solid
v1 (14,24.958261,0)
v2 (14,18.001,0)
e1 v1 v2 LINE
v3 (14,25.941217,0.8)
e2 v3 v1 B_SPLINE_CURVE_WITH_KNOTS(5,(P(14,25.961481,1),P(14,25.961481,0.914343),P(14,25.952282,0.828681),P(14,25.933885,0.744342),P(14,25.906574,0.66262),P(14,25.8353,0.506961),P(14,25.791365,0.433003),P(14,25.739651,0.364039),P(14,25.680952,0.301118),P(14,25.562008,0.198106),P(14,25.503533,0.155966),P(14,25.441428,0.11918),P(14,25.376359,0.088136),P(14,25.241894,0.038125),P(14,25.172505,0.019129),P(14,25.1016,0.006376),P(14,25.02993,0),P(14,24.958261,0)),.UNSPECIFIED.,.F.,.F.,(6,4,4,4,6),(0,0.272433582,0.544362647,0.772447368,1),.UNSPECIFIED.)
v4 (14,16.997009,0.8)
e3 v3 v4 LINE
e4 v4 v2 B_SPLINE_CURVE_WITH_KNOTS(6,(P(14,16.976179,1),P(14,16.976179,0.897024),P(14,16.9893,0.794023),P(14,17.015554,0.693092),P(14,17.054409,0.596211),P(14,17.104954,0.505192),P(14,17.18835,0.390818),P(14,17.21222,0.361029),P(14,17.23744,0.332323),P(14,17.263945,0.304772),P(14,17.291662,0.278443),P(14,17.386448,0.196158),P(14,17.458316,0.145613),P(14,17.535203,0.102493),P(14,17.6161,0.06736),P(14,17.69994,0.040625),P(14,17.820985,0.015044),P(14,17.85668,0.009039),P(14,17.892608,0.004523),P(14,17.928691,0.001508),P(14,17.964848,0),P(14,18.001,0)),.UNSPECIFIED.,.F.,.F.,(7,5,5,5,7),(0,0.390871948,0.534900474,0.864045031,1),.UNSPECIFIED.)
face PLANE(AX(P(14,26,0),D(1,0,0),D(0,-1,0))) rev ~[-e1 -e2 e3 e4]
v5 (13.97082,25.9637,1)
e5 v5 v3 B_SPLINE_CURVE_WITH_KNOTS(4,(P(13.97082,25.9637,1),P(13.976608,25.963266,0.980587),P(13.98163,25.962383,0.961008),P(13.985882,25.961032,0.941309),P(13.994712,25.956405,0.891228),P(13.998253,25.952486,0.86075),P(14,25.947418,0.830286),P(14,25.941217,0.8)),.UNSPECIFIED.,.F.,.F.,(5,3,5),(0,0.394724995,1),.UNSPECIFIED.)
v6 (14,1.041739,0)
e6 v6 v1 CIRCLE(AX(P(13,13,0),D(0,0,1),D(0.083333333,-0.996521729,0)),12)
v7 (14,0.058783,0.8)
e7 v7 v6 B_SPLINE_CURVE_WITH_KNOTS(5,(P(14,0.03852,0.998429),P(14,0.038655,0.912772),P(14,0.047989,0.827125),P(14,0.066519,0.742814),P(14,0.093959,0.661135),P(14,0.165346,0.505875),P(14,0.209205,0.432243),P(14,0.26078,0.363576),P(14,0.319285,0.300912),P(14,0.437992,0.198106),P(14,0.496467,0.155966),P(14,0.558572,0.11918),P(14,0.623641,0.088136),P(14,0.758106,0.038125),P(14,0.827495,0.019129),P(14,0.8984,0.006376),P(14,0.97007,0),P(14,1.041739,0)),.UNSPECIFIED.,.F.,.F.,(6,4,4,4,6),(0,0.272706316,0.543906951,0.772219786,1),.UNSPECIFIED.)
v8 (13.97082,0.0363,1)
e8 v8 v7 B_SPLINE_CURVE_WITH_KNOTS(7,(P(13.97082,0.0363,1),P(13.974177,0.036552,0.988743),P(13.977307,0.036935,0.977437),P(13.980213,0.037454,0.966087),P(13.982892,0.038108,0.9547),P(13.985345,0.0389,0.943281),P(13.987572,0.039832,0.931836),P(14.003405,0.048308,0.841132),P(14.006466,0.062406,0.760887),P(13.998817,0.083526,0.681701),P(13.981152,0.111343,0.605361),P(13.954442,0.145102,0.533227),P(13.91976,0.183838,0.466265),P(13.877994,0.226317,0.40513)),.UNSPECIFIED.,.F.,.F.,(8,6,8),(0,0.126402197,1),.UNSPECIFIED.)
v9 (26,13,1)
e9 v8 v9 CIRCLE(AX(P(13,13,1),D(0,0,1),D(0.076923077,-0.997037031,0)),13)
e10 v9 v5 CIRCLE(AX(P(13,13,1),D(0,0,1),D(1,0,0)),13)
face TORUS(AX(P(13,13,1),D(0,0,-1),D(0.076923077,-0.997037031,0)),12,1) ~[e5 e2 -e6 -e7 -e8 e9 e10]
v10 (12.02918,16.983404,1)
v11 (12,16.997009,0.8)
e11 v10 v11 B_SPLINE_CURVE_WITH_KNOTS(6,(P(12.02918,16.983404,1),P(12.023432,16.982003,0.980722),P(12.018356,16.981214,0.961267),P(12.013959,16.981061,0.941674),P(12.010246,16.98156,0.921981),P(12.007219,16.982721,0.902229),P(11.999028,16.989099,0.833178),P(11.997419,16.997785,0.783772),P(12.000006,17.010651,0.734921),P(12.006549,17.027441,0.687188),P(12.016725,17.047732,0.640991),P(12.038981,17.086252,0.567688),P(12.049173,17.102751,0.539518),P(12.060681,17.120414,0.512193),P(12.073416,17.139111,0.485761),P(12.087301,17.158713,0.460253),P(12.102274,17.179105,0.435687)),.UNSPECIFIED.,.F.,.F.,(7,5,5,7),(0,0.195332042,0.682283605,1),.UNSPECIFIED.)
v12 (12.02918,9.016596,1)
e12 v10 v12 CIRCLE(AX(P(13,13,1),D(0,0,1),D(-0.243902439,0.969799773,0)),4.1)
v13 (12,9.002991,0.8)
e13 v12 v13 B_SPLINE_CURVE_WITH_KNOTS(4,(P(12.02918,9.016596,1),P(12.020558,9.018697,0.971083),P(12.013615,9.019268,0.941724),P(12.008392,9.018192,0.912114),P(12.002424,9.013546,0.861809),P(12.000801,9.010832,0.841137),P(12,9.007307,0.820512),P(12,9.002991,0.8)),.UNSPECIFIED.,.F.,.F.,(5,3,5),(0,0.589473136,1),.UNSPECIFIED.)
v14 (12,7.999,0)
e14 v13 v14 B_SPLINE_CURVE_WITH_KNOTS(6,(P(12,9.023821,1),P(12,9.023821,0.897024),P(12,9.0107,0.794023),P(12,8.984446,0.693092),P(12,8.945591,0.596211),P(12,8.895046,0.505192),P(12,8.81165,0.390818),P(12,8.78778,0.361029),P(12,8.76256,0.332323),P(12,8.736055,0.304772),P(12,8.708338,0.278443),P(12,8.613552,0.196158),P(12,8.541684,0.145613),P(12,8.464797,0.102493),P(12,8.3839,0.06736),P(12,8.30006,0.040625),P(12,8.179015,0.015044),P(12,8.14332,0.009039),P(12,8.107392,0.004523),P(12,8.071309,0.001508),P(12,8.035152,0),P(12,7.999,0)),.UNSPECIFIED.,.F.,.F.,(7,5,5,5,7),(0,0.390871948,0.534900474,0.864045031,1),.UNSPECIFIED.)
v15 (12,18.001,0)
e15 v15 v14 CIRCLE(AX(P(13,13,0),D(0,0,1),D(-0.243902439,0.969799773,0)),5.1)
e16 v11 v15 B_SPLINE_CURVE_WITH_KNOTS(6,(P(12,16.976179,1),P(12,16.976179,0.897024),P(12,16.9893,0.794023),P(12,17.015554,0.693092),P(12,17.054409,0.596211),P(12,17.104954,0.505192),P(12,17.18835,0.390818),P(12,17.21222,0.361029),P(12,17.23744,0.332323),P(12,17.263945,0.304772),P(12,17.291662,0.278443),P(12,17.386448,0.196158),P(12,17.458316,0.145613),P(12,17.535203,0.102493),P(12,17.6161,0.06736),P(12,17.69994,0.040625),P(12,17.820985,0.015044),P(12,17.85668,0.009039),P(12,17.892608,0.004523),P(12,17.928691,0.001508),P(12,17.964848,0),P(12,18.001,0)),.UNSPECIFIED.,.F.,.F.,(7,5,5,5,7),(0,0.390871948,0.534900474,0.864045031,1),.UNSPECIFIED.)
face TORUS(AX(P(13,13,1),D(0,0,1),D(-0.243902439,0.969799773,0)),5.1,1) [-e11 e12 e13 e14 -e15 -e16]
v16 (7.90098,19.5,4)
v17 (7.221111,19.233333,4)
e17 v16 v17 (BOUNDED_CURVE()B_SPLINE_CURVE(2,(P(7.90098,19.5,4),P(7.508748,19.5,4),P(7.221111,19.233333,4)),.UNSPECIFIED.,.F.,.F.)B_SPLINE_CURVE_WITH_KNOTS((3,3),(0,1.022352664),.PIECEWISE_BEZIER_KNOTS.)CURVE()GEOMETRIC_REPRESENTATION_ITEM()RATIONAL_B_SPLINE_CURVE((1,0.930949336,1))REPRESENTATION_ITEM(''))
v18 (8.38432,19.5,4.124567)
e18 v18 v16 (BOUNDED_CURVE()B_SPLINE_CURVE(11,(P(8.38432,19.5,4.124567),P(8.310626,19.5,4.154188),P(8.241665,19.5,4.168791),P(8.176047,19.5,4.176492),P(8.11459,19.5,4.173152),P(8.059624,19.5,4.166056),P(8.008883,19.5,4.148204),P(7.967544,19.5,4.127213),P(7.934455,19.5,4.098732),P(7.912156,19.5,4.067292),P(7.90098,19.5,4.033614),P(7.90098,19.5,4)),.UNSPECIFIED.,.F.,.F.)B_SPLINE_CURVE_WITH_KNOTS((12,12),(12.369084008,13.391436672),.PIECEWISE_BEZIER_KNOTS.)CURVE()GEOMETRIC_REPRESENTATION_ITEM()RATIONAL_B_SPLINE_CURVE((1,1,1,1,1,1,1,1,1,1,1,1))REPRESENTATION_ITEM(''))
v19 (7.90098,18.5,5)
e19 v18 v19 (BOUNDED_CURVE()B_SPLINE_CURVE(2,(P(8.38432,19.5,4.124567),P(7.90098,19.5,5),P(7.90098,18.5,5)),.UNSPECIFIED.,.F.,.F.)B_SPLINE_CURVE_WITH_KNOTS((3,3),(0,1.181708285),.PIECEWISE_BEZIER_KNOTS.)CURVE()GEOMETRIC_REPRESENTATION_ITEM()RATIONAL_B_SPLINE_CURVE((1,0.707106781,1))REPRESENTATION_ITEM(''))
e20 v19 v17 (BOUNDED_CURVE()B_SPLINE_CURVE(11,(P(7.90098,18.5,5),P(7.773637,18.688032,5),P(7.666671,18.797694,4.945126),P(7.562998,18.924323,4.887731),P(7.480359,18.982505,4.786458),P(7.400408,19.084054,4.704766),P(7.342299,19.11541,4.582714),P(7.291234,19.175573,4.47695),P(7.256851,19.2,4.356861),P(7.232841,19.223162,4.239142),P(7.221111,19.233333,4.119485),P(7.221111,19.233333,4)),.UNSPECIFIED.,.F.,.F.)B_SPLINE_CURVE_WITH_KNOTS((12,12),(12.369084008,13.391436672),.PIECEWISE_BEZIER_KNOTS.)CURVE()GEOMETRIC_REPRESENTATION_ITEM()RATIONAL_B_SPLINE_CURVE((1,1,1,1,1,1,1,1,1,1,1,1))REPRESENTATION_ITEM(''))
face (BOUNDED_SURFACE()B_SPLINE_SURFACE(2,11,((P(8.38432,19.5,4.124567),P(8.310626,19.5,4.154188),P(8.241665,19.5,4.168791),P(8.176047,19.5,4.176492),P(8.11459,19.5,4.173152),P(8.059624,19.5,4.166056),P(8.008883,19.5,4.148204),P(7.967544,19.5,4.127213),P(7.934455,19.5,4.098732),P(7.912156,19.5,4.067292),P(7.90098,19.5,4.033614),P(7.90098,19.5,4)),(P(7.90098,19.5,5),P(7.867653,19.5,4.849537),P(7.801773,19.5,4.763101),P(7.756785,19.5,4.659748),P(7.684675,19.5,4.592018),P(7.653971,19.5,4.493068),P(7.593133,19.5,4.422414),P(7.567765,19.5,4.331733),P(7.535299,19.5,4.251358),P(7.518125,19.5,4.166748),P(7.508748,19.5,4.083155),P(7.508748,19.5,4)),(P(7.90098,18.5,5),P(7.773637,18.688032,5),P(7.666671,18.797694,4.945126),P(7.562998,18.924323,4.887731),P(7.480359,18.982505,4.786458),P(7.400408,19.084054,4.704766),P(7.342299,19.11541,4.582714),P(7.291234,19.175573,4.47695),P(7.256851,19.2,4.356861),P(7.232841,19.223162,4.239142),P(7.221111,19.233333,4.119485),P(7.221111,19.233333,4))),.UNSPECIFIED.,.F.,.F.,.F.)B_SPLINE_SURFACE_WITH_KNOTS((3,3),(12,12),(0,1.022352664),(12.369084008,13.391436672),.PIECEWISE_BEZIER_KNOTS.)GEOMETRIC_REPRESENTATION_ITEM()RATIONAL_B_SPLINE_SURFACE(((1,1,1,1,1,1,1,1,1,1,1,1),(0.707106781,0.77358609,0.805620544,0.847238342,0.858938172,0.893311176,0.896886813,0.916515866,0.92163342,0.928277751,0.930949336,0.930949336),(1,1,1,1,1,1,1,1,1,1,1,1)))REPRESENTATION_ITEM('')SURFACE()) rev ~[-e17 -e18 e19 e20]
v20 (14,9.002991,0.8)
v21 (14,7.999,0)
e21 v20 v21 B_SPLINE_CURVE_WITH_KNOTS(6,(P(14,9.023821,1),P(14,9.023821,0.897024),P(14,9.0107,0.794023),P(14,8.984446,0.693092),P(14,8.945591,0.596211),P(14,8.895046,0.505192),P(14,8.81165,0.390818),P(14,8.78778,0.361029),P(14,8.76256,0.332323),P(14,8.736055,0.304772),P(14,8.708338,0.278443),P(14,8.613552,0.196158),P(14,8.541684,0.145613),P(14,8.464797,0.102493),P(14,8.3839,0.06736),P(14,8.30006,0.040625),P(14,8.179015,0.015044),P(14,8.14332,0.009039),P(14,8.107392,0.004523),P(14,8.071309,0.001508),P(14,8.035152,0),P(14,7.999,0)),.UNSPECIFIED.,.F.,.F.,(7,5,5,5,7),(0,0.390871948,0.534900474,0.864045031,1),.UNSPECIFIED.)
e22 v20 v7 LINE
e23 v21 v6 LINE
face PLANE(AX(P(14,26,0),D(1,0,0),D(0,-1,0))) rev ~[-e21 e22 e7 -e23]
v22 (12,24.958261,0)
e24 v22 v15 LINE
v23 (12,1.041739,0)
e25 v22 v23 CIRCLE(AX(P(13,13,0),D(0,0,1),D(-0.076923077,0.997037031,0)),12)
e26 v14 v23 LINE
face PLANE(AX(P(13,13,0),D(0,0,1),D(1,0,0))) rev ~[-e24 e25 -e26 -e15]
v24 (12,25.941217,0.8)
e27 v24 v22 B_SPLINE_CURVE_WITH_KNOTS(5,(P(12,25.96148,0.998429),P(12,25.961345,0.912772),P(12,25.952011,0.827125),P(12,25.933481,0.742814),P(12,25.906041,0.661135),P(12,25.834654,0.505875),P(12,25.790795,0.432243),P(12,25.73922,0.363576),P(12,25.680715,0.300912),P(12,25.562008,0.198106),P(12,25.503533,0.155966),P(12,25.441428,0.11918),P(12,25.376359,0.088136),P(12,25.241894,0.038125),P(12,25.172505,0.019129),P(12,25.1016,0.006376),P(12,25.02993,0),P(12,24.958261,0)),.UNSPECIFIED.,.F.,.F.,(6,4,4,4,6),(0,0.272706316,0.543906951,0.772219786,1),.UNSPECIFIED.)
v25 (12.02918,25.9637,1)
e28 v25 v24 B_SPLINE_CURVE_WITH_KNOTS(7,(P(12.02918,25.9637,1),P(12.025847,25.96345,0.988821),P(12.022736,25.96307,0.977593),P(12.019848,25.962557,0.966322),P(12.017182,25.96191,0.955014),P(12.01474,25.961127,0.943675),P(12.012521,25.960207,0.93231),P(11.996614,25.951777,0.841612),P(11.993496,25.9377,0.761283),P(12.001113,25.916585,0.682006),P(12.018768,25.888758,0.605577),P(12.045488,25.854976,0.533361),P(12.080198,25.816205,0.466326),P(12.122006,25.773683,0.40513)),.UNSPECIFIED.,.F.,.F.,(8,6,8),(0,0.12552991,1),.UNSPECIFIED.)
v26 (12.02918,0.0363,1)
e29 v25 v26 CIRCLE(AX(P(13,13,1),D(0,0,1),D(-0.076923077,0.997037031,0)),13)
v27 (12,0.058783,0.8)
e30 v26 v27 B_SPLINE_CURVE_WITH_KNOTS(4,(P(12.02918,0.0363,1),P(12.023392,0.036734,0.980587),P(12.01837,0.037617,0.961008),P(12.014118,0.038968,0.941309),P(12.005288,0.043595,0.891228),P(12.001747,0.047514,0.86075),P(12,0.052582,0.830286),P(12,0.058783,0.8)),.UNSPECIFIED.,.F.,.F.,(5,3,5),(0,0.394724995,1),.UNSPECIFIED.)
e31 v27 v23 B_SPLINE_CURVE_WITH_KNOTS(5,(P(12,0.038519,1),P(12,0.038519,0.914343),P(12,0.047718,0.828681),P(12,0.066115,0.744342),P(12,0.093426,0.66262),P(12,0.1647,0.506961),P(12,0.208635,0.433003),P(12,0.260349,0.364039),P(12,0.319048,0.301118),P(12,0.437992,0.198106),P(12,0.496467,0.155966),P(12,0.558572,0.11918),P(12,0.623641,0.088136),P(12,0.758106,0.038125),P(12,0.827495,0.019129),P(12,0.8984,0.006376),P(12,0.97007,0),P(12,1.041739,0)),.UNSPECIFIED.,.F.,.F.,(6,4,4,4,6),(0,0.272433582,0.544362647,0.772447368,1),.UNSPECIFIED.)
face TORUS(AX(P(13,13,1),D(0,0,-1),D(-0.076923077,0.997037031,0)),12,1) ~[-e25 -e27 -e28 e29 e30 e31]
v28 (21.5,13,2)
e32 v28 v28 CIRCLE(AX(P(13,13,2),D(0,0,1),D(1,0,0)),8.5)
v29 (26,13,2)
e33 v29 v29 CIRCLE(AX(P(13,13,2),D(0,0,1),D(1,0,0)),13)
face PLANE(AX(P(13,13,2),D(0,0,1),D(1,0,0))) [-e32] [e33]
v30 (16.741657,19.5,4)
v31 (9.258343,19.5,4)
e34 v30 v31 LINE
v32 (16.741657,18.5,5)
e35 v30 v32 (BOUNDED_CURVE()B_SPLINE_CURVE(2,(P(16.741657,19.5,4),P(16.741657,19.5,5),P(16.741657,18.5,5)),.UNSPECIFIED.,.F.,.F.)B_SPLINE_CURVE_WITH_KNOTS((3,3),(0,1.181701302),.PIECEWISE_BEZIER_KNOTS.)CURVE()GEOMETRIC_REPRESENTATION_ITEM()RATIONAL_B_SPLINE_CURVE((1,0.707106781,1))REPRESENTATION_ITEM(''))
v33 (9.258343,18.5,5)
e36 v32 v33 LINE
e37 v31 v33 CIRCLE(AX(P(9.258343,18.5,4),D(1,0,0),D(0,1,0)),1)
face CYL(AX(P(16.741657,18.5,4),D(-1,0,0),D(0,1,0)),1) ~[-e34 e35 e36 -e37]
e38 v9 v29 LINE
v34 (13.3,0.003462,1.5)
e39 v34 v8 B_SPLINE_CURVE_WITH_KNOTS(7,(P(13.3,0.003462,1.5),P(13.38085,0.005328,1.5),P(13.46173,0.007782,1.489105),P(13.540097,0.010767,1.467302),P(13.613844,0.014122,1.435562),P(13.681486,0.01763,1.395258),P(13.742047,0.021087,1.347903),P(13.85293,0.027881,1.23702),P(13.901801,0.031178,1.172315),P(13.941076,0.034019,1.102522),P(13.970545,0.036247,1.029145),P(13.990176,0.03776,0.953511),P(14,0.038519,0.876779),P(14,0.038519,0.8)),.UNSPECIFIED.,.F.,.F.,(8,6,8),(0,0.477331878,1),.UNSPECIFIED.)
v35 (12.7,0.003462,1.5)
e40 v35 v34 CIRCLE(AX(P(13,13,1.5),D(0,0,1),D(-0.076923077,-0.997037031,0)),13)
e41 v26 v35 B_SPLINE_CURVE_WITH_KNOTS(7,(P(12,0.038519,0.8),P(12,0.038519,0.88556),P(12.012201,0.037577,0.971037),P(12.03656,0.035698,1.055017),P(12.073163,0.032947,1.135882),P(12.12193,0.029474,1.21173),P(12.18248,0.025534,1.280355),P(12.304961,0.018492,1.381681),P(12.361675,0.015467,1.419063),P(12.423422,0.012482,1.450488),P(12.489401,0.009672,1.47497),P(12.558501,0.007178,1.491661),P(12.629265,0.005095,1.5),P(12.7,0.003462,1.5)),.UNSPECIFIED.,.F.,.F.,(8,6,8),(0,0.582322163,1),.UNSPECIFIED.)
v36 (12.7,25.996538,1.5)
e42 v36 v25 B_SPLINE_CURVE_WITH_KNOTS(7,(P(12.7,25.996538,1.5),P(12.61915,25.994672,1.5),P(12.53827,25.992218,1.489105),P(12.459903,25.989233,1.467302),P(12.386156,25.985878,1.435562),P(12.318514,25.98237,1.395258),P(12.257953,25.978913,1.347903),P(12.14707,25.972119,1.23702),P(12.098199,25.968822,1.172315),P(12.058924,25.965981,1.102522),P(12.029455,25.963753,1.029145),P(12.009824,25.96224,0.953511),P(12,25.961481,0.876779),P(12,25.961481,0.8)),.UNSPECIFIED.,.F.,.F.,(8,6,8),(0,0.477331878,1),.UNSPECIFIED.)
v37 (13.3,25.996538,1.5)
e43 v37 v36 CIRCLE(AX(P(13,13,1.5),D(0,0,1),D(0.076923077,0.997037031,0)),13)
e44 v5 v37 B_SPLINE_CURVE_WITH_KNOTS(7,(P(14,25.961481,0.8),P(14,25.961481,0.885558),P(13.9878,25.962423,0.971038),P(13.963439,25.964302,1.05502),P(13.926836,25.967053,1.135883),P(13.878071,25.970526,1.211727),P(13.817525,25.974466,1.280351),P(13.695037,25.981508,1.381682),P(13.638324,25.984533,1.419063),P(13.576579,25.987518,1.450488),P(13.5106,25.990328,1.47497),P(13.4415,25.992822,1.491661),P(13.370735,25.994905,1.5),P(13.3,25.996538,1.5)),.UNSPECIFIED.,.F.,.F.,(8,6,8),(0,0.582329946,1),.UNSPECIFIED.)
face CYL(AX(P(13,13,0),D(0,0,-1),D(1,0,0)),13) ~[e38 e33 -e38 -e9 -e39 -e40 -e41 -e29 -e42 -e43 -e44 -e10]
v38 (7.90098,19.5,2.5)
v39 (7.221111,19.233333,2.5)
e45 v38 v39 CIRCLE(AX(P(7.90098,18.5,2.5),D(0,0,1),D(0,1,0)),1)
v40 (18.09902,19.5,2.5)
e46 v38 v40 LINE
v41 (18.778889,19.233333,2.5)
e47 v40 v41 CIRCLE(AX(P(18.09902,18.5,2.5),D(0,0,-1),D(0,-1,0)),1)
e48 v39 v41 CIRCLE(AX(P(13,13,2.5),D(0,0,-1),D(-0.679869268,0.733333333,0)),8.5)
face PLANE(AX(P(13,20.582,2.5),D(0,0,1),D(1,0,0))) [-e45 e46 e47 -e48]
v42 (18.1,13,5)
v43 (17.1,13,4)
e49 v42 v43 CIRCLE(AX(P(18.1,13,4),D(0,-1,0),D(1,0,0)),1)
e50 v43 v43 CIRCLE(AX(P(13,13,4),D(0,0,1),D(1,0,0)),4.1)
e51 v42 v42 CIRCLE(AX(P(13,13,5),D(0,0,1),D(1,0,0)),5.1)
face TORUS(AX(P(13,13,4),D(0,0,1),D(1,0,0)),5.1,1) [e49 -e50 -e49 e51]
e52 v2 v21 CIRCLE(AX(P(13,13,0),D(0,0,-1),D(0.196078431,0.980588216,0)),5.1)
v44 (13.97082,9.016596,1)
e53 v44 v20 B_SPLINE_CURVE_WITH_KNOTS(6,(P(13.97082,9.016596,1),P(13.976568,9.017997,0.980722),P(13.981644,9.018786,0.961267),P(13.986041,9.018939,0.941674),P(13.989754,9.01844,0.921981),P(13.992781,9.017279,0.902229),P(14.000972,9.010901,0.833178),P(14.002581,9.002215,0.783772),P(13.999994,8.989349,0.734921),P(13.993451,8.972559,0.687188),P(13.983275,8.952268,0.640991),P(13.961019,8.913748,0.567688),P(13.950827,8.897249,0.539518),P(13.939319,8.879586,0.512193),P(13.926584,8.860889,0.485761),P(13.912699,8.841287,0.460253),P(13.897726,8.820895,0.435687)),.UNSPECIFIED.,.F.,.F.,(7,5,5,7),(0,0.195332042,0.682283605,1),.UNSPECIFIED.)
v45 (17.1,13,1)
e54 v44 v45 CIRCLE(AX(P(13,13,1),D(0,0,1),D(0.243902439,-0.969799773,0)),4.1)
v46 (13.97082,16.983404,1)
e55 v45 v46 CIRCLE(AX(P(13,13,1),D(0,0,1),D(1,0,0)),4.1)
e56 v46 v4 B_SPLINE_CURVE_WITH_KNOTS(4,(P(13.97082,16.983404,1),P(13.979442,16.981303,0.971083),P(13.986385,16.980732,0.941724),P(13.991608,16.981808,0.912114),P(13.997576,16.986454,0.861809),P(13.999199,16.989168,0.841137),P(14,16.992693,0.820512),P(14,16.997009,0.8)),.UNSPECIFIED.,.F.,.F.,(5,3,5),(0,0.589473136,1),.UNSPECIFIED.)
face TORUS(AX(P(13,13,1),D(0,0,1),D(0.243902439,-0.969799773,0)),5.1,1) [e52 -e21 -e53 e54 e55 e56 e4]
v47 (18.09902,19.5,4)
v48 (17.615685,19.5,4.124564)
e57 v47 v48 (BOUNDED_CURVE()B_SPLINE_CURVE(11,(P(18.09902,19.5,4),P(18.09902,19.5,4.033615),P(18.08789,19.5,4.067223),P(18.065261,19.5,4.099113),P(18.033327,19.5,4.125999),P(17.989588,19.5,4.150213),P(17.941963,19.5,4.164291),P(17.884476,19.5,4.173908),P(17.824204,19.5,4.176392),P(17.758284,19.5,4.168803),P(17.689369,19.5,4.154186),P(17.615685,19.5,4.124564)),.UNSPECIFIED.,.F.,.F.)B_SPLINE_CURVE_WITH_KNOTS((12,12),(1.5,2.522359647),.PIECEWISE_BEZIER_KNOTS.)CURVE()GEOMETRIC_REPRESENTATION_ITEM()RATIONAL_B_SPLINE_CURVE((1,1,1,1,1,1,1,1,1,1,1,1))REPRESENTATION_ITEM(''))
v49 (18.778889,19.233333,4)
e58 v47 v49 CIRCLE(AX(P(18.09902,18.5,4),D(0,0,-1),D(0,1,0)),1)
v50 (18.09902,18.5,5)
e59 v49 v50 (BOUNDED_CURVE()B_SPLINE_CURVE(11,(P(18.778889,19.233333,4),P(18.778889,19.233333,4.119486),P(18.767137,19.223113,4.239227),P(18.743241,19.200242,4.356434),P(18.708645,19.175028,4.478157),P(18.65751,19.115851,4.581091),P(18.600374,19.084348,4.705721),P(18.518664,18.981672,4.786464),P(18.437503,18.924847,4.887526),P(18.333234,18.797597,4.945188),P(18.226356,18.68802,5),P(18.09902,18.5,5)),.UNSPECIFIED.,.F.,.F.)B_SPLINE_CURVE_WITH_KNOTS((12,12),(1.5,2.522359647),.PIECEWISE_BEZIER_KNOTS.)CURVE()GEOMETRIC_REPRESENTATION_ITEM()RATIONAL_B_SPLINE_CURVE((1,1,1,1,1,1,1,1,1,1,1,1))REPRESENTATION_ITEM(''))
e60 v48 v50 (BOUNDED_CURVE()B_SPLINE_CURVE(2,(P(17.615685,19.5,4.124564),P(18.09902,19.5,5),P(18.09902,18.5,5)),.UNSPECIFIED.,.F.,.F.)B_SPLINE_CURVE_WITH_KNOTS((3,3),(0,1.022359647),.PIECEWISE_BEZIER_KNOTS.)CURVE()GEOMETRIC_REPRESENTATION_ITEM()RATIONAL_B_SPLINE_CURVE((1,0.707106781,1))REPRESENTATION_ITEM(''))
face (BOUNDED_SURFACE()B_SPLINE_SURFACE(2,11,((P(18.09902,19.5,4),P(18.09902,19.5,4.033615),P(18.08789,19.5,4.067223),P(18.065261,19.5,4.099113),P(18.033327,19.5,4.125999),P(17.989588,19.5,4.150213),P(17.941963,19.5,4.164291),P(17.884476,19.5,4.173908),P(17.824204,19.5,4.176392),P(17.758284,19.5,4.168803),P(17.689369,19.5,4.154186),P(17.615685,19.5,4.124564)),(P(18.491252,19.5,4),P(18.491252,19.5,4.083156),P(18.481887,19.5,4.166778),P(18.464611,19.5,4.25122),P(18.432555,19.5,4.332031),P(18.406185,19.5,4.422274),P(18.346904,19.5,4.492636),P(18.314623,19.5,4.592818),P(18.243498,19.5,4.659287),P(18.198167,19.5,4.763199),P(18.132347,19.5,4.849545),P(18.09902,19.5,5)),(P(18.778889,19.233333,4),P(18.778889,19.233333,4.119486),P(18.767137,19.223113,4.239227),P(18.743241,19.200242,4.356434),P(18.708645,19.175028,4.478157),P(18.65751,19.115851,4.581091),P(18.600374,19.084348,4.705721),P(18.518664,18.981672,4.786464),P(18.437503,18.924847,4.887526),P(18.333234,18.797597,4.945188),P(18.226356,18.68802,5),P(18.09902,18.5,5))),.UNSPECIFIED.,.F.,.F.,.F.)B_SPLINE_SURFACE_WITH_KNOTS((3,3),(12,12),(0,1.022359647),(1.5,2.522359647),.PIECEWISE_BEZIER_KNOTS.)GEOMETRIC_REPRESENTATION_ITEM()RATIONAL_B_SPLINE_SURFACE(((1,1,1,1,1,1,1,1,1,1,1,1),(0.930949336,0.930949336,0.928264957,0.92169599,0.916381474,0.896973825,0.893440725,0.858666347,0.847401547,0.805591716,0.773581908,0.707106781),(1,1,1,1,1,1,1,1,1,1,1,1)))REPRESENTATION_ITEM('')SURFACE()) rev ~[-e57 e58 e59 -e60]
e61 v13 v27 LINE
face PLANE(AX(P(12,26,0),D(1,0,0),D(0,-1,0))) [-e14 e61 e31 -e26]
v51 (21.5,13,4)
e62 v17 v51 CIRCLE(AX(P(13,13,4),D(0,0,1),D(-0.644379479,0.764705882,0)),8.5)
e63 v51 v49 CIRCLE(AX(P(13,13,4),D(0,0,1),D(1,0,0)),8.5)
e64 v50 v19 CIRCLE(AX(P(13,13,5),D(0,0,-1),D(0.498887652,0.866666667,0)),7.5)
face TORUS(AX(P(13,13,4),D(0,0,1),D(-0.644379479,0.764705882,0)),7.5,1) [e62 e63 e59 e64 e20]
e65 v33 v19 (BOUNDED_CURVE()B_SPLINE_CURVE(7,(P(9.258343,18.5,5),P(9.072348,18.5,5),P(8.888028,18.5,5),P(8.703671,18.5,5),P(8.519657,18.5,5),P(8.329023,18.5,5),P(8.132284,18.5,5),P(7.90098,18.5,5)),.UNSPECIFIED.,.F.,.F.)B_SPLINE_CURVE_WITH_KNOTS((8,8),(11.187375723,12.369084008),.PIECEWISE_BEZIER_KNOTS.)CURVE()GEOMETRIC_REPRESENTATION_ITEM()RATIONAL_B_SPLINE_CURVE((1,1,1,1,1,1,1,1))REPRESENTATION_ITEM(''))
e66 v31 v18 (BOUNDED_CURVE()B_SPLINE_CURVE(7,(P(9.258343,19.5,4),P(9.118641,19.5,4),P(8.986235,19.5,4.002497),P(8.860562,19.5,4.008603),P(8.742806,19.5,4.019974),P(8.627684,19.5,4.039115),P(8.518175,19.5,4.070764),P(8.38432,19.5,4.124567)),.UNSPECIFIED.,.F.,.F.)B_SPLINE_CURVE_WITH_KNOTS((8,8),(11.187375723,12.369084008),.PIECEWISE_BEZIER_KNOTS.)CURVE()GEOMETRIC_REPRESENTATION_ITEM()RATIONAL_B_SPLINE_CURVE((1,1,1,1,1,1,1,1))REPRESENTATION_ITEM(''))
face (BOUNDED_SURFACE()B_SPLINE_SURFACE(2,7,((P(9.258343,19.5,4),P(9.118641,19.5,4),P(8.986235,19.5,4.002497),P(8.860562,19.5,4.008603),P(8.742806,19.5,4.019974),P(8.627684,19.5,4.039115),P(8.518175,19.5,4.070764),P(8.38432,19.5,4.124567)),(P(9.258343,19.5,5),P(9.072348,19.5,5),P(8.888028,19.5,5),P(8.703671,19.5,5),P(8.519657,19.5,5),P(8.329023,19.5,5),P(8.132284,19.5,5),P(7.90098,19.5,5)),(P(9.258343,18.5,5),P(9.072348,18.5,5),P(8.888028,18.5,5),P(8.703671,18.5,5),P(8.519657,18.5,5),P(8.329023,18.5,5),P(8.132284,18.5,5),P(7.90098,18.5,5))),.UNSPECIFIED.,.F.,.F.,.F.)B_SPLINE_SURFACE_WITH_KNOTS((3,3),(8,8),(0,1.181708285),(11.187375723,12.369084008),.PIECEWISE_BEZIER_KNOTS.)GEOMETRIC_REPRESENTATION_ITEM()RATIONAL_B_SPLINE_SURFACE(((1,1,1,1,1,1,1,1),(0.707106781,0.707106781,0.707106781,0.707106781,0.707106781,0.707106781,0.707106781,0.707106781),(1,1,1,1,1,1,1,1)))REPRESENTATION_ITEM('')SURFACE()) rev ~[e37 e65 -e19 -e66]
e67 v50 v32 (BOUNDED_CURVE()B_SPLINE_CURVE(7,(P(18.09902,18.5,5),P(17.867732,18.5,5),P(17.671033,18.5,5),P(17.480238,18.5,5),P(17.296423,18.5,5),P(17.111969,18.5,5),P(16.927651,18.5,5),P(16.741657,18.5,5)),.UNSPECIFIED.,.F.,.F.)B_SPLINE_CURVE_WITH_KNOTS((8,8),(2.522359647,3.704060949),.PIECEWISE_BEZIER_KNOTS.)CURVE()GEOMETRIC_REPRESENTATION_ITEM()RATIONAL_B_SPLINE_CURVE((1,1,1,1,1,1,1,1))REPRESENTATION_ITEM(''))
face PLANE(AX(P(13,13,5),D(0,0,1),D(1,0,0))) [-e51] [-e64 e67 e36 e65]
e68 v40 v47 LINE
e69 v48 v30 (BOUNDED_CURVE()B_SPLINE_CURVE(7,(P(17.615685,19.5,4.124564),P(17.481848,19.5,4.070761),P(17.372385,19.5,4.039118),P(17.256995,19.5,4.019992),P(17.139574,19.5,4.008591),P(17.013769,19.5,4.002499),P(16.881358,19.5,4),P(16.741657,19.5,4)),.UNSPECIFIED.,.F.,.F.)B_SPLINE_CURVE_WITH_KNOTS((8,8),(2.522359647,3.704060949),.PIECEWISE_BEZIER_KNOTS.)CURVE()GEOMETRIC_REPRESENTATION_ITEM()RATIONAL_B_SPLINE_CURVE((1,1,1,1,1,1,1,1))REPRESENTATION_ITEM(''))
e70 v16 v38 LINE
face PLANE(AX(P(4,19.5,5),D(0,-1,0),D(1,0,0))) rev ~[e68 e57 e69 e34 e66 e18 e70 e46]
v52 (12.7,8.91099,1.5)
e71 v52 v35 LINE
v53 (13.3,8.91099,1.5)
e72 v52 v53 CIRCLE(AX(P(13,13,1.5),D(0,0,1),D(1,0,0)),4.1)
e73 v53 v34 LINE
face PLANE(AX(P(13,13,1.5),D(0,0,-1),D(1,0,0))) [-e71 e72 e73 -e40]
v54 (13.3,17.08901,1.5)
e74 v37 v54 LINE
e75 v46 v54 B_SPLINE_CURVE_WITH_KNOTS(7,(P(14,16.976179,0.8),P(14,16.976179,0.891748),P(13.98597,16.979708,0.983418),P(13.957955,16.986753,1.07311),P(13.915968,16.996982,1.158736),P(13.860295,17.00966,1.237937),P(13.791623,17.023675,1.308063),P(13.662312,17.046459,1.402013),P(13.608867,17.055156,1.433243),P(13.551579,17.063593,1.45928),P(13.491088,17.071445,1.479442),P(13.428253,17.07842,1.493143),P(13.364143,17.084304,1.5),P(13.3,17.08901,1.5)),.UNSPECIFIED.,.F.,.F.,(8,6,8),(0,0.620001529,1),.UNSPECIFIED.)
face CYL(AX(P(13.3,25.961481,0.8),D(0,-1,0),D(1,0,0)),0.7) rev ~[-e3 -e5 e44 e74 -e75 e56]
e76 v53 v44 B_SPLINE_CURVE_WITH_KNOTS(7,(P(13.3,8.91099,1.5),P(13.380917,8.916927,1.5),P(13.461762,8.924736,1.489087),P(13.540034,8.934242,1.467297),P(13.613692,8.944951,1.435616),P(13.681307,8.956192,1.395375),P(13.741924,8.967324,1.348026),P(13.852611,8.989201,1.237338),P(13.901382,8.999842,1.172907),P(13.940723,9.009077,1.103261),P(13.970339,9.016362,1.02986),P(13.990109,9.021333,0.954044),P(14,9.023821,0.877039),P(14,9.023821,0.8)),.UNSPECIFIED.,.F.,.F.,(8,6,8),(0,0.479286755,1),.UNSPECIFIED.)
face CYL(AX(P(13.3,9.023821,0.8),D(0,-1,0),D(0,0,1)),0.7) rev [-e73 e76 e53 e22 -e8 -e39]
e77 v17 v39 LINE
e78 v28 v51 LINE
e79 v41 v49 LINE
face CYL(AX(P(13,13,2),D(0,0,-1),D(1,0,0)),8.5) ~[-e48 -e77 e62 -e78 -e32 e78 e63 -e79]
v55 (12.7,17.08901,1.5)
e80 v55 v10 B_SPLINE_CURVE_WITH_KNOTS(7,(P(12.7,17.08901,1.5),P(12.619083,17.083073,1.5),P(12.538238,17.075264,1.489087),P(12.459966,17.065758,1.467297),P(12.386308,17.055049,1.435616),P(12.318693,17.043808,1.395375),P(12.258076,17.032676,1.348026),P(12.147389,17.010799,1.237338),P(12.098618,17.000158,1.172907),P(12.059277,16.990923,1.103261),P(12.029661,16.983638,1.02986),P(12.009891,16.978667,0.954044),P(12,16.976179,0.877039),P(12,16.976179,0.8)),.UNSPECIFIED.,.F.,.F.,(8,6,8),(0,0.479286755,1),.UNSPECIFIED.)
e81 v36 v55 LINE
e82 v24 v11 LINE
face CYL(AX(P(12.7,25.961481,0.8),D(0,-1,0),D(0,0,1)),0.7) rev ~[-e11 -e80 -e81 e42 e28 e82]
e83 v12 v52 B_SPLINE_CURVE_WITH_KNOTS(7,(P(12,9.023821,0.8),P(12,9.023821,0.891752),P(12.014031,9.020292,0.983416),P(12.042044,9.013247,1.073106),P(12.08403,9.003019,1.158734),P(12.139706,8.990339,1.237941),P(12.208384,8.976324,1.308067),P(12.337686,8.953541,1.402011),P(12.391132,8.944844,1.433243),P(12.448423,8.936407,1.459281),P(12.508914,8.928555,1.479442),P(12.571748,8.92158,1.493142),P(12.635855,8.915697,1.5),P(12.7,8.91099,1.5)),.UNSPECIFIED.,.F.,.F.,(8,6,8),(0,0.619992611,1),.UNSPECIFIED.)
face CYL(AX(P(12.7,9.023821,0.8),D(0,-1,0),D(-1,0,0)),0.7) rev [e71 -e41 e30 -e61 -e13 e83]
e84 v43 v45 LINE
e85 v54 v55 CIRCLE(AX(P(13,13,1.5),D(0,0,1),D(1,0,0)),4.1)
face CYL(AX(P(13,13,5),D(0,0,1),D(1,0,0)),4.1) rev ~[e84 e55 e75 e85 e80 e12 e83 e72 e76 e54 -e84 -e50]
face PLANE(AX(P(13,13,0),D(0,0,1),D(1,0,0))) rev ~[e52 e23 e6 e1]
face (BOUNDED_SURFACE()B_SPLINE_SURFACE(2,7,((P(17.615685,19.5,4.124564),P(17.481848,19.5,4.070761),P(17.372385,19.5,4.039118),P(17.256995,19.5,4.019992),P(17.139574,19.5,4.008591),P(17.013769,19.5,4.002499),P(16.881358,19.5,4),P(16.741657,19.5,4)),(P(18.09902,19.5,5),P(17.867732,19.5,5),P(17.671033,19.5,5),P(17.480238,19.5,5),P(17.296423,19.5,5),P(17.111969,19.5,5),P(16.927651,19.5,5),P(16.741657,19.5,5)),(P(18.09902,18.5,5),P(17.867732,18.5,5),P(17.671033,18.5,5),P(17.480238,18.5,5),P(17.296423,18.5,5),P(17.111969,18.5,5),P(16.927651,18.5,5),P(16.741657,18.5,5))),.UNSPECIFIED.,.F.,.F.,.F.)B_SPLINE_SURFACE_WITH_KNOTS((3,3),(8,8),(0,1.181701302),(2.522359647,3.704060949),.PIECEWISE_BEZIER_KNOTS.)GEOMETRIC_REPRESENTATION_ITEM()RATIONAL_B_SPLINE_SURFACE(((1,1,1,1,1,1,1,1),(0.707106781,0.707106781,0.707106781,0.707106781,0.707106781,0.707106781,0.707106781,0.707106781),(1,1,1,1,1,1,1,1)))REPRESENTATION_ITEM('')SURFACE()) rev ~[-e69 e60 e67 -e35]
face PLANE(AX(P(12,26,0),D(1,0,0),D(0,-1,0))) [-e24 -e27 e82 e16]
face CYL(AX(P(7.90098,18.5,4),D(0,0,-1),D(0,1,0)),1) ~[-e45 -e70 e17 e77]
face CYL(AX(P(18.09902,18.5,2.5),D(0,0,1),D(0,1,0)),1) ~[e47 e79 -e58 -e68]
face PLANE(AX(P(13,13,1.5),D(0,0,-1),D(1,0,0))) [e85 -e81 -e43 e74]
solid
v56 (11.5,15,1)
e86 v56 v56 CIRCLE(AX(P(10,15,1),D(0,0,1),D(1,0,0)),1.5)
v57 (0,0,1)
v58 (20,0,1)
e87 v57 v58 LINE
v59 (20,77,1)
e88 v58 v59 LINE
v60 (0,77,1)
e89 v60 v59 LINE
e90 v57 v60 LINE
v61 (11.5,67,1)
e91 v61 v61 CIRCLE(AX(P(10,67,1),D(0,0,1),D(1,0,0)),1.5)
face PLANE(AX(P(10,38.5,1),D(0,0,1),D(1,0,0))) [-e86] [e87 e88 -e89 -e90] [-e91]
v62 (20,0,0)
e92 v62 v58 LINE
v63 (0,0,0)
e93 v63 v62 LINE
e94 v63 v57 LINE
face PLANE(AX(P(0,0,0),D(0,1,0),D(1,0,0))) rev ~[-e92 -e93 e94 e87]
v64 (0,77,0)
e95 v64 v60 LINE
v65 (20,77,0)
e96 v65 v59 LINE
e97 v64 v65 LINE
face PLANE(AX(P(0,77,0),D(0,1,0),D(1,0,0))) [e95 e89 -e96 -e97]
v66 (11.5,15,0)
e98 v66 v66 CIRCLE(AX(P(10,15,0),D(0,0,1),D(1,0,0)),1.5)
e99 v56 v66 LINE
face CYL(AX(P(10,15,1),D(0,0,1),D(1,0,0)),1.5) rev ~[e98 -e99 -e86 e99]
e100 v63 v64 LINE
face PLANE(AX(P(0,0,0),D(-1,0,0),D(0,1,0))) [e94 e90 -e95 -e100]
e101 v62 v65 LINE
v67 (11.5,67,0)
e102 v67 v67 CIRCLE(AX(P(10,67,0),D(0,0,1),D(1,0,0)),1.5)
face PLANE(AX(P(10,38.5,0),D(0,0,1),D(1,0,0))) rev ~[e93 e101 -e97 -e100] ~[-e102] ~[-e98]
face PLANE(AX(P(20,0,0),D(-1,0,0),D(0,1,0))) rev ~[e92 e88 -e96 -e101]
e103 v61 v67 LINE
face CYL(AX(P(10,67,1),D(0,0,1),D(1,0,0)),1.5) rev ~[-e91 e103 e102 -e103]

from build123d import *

# Parameters (mm, degrees)
SKETCH_R        = 13
PAD_DEPTH       = 2
SKETCH001_R     = 8.5
PAD001_DEPTH    = 3
SKETCH002_R     = 4.1
POCKET_DEPTH    = 5
SKETCH003_W     = 18
SKETCH003_H     = 2.164
POCKET001_DEPTH = 2.5
SKETCH004_W     = 2
SKETCH004_H     = 26
POCKET002_DEPTH = 1.5
FILLET_R        = 0.7
FILLET001_R     = 0.7
FILLET002_R     = 1
FILLET003_R     = 1
FILLET004_R     = 1
FILLET005_R     = 1
FILLET006_R     = 1
SKETCH005_W     = 20
SKETCH005_H     = 77
PAD002_DEPTH    = 1
SKETCH006_R     = 1.5
POCKET003_DEPTH = 1.001


with BuildPart() as body:
    # Sketch → Pad (new body)
    with BuildSketch(Plane.XY):
        with Locations((13, 13)):
            Circle(SKETCH_R)
    extrude(amount=PAD_DEPTH)

    # Sketch001 (on Face3 of Pad) → Pad001 (join)
    with BuildSketch(Plane.XY.offset(2)):
        with Locations((13, 13)):
            Circle(SKETCH001_R)
    extrude(amount=PAD001_DEPTH)

    # Sketch002 (on Face5 of Pad001) → Pocket (cut)
    with BuildSketch(Plane.XY.offset(5)):
        with Locations((13, 13)):
            Circle(SKETCH002_R)
    extrude(amount=-POCKET_DEPTH, mode=Mode.SUBTRACT)

    # Sketch003 (on Face6 of Pocket) → Pocket001 (cut)
    with BuildSketch(Plane.XY.offset(5)):
        with Locations((13, 20.582)):
            Rectangle(SKETCH003_W, SKETCH003_H)
    extrude(amount=-POCKET001_DEPTH, mode=Mode.SUBTRACT)

    # Sketch004 (on Face2 of Pocket001) → Pocket002 (cut)
    with BuildSketch(Plane(origin=(0, 0, 0), x_dir=(1, 0, 0), z_dir=(0, 0, -1))):
        with Locations((13, -13)):
            Rectangle(SKETCH004_W, SKETCH004_H)
    extrude(amount=-POCKET002_DEPTH, mode=Mode.SUBTRACT)

    # Fillet
    fillet_edges = [body.edges().sort_by_distance(p)[0] for p in [
        (14, 21.46883, 1.5),
        (12, 21.46883, 1.5),
    ]]
    fillet(fillet_edges, radius=FILLET_R)

    # Fillet001
    fillet001_edges = [body.edges().sort_by_distance(p)[0] for p in [
        (12, 4.53117, 1.5),
        (14, 4.53117, 1.5),
    ]]
    fillet(fillet001_edges, radius=FILLET001_R)

    # Fillet002
    fillet002_edges = [body.edges().sort_by_distance(p)[0] for p in [
        (22.539392, 21.831761, 0),
        (0, 13, 0),
    ]]
    fillet(fillet002_edges, radius=FILLET002_R)

    # Fillet003
    fillet003_edges = [body.edges().sort_by_distance(p)[0] for p in [
        (20.707348, 16.584242, 5),
        (9.415758, 5.292652, 5),
    ]]
    fillet(fillet003_edges, radius=FILLET003_R)

    # Fillet004
    fillet004_edges = [body.edges().sort_by_distance(p)[0] for p in [
        (8.9, 13, 5),
    ]]
    fillet(fillet004_edges, radius=FILLET004_R)

    # Fillet005
    fillet005_edges = [body.edges().sort_by_distance(p)[0] for p in [
        (17.818835, 19.5, 4.806359),
        (8.181165, 19.5, 4.806359),
        (13, 19.5, 5),
    ]]
    fillet(fillet005_edges, radius=FILLET005_R)

    # Fillet006
    fillet006_edges = [body.edges().sort_by_distance(p)[0] for p in [
        (8.9, 13, 0),
        (16.233419, 10.479087, 0),
        (16.233419, 15.520913, 0),
    ]]
    fillet(fillet006_edges, radius=FILLET006_R)


with BuildPart() as body001:
    # Sketch005 → Pad002 (new body)
    with BuildSketch(Plane.XY):
        with Locations((10, 38.5)):
            Rectangle(SKETCH005_W, SKETCH005_H)
    extrude(amount=PAD002_DEPTH)

    # Sketch006 (on Face6 of Pad002) → Pocket003 (cut, through all)
    with BuildSketch(Plane.XY.offset(1)):
        with Locations((10, 67)):
            Circle(SKETCH006_R)
        with Locations((10, 15)):
            Circle(SKETCH006_R)
    extrude(amount=-POCKET003_DEPTH, mode=Mode.SUBTRACT)


solid = Compound([body.part, body001.part])
